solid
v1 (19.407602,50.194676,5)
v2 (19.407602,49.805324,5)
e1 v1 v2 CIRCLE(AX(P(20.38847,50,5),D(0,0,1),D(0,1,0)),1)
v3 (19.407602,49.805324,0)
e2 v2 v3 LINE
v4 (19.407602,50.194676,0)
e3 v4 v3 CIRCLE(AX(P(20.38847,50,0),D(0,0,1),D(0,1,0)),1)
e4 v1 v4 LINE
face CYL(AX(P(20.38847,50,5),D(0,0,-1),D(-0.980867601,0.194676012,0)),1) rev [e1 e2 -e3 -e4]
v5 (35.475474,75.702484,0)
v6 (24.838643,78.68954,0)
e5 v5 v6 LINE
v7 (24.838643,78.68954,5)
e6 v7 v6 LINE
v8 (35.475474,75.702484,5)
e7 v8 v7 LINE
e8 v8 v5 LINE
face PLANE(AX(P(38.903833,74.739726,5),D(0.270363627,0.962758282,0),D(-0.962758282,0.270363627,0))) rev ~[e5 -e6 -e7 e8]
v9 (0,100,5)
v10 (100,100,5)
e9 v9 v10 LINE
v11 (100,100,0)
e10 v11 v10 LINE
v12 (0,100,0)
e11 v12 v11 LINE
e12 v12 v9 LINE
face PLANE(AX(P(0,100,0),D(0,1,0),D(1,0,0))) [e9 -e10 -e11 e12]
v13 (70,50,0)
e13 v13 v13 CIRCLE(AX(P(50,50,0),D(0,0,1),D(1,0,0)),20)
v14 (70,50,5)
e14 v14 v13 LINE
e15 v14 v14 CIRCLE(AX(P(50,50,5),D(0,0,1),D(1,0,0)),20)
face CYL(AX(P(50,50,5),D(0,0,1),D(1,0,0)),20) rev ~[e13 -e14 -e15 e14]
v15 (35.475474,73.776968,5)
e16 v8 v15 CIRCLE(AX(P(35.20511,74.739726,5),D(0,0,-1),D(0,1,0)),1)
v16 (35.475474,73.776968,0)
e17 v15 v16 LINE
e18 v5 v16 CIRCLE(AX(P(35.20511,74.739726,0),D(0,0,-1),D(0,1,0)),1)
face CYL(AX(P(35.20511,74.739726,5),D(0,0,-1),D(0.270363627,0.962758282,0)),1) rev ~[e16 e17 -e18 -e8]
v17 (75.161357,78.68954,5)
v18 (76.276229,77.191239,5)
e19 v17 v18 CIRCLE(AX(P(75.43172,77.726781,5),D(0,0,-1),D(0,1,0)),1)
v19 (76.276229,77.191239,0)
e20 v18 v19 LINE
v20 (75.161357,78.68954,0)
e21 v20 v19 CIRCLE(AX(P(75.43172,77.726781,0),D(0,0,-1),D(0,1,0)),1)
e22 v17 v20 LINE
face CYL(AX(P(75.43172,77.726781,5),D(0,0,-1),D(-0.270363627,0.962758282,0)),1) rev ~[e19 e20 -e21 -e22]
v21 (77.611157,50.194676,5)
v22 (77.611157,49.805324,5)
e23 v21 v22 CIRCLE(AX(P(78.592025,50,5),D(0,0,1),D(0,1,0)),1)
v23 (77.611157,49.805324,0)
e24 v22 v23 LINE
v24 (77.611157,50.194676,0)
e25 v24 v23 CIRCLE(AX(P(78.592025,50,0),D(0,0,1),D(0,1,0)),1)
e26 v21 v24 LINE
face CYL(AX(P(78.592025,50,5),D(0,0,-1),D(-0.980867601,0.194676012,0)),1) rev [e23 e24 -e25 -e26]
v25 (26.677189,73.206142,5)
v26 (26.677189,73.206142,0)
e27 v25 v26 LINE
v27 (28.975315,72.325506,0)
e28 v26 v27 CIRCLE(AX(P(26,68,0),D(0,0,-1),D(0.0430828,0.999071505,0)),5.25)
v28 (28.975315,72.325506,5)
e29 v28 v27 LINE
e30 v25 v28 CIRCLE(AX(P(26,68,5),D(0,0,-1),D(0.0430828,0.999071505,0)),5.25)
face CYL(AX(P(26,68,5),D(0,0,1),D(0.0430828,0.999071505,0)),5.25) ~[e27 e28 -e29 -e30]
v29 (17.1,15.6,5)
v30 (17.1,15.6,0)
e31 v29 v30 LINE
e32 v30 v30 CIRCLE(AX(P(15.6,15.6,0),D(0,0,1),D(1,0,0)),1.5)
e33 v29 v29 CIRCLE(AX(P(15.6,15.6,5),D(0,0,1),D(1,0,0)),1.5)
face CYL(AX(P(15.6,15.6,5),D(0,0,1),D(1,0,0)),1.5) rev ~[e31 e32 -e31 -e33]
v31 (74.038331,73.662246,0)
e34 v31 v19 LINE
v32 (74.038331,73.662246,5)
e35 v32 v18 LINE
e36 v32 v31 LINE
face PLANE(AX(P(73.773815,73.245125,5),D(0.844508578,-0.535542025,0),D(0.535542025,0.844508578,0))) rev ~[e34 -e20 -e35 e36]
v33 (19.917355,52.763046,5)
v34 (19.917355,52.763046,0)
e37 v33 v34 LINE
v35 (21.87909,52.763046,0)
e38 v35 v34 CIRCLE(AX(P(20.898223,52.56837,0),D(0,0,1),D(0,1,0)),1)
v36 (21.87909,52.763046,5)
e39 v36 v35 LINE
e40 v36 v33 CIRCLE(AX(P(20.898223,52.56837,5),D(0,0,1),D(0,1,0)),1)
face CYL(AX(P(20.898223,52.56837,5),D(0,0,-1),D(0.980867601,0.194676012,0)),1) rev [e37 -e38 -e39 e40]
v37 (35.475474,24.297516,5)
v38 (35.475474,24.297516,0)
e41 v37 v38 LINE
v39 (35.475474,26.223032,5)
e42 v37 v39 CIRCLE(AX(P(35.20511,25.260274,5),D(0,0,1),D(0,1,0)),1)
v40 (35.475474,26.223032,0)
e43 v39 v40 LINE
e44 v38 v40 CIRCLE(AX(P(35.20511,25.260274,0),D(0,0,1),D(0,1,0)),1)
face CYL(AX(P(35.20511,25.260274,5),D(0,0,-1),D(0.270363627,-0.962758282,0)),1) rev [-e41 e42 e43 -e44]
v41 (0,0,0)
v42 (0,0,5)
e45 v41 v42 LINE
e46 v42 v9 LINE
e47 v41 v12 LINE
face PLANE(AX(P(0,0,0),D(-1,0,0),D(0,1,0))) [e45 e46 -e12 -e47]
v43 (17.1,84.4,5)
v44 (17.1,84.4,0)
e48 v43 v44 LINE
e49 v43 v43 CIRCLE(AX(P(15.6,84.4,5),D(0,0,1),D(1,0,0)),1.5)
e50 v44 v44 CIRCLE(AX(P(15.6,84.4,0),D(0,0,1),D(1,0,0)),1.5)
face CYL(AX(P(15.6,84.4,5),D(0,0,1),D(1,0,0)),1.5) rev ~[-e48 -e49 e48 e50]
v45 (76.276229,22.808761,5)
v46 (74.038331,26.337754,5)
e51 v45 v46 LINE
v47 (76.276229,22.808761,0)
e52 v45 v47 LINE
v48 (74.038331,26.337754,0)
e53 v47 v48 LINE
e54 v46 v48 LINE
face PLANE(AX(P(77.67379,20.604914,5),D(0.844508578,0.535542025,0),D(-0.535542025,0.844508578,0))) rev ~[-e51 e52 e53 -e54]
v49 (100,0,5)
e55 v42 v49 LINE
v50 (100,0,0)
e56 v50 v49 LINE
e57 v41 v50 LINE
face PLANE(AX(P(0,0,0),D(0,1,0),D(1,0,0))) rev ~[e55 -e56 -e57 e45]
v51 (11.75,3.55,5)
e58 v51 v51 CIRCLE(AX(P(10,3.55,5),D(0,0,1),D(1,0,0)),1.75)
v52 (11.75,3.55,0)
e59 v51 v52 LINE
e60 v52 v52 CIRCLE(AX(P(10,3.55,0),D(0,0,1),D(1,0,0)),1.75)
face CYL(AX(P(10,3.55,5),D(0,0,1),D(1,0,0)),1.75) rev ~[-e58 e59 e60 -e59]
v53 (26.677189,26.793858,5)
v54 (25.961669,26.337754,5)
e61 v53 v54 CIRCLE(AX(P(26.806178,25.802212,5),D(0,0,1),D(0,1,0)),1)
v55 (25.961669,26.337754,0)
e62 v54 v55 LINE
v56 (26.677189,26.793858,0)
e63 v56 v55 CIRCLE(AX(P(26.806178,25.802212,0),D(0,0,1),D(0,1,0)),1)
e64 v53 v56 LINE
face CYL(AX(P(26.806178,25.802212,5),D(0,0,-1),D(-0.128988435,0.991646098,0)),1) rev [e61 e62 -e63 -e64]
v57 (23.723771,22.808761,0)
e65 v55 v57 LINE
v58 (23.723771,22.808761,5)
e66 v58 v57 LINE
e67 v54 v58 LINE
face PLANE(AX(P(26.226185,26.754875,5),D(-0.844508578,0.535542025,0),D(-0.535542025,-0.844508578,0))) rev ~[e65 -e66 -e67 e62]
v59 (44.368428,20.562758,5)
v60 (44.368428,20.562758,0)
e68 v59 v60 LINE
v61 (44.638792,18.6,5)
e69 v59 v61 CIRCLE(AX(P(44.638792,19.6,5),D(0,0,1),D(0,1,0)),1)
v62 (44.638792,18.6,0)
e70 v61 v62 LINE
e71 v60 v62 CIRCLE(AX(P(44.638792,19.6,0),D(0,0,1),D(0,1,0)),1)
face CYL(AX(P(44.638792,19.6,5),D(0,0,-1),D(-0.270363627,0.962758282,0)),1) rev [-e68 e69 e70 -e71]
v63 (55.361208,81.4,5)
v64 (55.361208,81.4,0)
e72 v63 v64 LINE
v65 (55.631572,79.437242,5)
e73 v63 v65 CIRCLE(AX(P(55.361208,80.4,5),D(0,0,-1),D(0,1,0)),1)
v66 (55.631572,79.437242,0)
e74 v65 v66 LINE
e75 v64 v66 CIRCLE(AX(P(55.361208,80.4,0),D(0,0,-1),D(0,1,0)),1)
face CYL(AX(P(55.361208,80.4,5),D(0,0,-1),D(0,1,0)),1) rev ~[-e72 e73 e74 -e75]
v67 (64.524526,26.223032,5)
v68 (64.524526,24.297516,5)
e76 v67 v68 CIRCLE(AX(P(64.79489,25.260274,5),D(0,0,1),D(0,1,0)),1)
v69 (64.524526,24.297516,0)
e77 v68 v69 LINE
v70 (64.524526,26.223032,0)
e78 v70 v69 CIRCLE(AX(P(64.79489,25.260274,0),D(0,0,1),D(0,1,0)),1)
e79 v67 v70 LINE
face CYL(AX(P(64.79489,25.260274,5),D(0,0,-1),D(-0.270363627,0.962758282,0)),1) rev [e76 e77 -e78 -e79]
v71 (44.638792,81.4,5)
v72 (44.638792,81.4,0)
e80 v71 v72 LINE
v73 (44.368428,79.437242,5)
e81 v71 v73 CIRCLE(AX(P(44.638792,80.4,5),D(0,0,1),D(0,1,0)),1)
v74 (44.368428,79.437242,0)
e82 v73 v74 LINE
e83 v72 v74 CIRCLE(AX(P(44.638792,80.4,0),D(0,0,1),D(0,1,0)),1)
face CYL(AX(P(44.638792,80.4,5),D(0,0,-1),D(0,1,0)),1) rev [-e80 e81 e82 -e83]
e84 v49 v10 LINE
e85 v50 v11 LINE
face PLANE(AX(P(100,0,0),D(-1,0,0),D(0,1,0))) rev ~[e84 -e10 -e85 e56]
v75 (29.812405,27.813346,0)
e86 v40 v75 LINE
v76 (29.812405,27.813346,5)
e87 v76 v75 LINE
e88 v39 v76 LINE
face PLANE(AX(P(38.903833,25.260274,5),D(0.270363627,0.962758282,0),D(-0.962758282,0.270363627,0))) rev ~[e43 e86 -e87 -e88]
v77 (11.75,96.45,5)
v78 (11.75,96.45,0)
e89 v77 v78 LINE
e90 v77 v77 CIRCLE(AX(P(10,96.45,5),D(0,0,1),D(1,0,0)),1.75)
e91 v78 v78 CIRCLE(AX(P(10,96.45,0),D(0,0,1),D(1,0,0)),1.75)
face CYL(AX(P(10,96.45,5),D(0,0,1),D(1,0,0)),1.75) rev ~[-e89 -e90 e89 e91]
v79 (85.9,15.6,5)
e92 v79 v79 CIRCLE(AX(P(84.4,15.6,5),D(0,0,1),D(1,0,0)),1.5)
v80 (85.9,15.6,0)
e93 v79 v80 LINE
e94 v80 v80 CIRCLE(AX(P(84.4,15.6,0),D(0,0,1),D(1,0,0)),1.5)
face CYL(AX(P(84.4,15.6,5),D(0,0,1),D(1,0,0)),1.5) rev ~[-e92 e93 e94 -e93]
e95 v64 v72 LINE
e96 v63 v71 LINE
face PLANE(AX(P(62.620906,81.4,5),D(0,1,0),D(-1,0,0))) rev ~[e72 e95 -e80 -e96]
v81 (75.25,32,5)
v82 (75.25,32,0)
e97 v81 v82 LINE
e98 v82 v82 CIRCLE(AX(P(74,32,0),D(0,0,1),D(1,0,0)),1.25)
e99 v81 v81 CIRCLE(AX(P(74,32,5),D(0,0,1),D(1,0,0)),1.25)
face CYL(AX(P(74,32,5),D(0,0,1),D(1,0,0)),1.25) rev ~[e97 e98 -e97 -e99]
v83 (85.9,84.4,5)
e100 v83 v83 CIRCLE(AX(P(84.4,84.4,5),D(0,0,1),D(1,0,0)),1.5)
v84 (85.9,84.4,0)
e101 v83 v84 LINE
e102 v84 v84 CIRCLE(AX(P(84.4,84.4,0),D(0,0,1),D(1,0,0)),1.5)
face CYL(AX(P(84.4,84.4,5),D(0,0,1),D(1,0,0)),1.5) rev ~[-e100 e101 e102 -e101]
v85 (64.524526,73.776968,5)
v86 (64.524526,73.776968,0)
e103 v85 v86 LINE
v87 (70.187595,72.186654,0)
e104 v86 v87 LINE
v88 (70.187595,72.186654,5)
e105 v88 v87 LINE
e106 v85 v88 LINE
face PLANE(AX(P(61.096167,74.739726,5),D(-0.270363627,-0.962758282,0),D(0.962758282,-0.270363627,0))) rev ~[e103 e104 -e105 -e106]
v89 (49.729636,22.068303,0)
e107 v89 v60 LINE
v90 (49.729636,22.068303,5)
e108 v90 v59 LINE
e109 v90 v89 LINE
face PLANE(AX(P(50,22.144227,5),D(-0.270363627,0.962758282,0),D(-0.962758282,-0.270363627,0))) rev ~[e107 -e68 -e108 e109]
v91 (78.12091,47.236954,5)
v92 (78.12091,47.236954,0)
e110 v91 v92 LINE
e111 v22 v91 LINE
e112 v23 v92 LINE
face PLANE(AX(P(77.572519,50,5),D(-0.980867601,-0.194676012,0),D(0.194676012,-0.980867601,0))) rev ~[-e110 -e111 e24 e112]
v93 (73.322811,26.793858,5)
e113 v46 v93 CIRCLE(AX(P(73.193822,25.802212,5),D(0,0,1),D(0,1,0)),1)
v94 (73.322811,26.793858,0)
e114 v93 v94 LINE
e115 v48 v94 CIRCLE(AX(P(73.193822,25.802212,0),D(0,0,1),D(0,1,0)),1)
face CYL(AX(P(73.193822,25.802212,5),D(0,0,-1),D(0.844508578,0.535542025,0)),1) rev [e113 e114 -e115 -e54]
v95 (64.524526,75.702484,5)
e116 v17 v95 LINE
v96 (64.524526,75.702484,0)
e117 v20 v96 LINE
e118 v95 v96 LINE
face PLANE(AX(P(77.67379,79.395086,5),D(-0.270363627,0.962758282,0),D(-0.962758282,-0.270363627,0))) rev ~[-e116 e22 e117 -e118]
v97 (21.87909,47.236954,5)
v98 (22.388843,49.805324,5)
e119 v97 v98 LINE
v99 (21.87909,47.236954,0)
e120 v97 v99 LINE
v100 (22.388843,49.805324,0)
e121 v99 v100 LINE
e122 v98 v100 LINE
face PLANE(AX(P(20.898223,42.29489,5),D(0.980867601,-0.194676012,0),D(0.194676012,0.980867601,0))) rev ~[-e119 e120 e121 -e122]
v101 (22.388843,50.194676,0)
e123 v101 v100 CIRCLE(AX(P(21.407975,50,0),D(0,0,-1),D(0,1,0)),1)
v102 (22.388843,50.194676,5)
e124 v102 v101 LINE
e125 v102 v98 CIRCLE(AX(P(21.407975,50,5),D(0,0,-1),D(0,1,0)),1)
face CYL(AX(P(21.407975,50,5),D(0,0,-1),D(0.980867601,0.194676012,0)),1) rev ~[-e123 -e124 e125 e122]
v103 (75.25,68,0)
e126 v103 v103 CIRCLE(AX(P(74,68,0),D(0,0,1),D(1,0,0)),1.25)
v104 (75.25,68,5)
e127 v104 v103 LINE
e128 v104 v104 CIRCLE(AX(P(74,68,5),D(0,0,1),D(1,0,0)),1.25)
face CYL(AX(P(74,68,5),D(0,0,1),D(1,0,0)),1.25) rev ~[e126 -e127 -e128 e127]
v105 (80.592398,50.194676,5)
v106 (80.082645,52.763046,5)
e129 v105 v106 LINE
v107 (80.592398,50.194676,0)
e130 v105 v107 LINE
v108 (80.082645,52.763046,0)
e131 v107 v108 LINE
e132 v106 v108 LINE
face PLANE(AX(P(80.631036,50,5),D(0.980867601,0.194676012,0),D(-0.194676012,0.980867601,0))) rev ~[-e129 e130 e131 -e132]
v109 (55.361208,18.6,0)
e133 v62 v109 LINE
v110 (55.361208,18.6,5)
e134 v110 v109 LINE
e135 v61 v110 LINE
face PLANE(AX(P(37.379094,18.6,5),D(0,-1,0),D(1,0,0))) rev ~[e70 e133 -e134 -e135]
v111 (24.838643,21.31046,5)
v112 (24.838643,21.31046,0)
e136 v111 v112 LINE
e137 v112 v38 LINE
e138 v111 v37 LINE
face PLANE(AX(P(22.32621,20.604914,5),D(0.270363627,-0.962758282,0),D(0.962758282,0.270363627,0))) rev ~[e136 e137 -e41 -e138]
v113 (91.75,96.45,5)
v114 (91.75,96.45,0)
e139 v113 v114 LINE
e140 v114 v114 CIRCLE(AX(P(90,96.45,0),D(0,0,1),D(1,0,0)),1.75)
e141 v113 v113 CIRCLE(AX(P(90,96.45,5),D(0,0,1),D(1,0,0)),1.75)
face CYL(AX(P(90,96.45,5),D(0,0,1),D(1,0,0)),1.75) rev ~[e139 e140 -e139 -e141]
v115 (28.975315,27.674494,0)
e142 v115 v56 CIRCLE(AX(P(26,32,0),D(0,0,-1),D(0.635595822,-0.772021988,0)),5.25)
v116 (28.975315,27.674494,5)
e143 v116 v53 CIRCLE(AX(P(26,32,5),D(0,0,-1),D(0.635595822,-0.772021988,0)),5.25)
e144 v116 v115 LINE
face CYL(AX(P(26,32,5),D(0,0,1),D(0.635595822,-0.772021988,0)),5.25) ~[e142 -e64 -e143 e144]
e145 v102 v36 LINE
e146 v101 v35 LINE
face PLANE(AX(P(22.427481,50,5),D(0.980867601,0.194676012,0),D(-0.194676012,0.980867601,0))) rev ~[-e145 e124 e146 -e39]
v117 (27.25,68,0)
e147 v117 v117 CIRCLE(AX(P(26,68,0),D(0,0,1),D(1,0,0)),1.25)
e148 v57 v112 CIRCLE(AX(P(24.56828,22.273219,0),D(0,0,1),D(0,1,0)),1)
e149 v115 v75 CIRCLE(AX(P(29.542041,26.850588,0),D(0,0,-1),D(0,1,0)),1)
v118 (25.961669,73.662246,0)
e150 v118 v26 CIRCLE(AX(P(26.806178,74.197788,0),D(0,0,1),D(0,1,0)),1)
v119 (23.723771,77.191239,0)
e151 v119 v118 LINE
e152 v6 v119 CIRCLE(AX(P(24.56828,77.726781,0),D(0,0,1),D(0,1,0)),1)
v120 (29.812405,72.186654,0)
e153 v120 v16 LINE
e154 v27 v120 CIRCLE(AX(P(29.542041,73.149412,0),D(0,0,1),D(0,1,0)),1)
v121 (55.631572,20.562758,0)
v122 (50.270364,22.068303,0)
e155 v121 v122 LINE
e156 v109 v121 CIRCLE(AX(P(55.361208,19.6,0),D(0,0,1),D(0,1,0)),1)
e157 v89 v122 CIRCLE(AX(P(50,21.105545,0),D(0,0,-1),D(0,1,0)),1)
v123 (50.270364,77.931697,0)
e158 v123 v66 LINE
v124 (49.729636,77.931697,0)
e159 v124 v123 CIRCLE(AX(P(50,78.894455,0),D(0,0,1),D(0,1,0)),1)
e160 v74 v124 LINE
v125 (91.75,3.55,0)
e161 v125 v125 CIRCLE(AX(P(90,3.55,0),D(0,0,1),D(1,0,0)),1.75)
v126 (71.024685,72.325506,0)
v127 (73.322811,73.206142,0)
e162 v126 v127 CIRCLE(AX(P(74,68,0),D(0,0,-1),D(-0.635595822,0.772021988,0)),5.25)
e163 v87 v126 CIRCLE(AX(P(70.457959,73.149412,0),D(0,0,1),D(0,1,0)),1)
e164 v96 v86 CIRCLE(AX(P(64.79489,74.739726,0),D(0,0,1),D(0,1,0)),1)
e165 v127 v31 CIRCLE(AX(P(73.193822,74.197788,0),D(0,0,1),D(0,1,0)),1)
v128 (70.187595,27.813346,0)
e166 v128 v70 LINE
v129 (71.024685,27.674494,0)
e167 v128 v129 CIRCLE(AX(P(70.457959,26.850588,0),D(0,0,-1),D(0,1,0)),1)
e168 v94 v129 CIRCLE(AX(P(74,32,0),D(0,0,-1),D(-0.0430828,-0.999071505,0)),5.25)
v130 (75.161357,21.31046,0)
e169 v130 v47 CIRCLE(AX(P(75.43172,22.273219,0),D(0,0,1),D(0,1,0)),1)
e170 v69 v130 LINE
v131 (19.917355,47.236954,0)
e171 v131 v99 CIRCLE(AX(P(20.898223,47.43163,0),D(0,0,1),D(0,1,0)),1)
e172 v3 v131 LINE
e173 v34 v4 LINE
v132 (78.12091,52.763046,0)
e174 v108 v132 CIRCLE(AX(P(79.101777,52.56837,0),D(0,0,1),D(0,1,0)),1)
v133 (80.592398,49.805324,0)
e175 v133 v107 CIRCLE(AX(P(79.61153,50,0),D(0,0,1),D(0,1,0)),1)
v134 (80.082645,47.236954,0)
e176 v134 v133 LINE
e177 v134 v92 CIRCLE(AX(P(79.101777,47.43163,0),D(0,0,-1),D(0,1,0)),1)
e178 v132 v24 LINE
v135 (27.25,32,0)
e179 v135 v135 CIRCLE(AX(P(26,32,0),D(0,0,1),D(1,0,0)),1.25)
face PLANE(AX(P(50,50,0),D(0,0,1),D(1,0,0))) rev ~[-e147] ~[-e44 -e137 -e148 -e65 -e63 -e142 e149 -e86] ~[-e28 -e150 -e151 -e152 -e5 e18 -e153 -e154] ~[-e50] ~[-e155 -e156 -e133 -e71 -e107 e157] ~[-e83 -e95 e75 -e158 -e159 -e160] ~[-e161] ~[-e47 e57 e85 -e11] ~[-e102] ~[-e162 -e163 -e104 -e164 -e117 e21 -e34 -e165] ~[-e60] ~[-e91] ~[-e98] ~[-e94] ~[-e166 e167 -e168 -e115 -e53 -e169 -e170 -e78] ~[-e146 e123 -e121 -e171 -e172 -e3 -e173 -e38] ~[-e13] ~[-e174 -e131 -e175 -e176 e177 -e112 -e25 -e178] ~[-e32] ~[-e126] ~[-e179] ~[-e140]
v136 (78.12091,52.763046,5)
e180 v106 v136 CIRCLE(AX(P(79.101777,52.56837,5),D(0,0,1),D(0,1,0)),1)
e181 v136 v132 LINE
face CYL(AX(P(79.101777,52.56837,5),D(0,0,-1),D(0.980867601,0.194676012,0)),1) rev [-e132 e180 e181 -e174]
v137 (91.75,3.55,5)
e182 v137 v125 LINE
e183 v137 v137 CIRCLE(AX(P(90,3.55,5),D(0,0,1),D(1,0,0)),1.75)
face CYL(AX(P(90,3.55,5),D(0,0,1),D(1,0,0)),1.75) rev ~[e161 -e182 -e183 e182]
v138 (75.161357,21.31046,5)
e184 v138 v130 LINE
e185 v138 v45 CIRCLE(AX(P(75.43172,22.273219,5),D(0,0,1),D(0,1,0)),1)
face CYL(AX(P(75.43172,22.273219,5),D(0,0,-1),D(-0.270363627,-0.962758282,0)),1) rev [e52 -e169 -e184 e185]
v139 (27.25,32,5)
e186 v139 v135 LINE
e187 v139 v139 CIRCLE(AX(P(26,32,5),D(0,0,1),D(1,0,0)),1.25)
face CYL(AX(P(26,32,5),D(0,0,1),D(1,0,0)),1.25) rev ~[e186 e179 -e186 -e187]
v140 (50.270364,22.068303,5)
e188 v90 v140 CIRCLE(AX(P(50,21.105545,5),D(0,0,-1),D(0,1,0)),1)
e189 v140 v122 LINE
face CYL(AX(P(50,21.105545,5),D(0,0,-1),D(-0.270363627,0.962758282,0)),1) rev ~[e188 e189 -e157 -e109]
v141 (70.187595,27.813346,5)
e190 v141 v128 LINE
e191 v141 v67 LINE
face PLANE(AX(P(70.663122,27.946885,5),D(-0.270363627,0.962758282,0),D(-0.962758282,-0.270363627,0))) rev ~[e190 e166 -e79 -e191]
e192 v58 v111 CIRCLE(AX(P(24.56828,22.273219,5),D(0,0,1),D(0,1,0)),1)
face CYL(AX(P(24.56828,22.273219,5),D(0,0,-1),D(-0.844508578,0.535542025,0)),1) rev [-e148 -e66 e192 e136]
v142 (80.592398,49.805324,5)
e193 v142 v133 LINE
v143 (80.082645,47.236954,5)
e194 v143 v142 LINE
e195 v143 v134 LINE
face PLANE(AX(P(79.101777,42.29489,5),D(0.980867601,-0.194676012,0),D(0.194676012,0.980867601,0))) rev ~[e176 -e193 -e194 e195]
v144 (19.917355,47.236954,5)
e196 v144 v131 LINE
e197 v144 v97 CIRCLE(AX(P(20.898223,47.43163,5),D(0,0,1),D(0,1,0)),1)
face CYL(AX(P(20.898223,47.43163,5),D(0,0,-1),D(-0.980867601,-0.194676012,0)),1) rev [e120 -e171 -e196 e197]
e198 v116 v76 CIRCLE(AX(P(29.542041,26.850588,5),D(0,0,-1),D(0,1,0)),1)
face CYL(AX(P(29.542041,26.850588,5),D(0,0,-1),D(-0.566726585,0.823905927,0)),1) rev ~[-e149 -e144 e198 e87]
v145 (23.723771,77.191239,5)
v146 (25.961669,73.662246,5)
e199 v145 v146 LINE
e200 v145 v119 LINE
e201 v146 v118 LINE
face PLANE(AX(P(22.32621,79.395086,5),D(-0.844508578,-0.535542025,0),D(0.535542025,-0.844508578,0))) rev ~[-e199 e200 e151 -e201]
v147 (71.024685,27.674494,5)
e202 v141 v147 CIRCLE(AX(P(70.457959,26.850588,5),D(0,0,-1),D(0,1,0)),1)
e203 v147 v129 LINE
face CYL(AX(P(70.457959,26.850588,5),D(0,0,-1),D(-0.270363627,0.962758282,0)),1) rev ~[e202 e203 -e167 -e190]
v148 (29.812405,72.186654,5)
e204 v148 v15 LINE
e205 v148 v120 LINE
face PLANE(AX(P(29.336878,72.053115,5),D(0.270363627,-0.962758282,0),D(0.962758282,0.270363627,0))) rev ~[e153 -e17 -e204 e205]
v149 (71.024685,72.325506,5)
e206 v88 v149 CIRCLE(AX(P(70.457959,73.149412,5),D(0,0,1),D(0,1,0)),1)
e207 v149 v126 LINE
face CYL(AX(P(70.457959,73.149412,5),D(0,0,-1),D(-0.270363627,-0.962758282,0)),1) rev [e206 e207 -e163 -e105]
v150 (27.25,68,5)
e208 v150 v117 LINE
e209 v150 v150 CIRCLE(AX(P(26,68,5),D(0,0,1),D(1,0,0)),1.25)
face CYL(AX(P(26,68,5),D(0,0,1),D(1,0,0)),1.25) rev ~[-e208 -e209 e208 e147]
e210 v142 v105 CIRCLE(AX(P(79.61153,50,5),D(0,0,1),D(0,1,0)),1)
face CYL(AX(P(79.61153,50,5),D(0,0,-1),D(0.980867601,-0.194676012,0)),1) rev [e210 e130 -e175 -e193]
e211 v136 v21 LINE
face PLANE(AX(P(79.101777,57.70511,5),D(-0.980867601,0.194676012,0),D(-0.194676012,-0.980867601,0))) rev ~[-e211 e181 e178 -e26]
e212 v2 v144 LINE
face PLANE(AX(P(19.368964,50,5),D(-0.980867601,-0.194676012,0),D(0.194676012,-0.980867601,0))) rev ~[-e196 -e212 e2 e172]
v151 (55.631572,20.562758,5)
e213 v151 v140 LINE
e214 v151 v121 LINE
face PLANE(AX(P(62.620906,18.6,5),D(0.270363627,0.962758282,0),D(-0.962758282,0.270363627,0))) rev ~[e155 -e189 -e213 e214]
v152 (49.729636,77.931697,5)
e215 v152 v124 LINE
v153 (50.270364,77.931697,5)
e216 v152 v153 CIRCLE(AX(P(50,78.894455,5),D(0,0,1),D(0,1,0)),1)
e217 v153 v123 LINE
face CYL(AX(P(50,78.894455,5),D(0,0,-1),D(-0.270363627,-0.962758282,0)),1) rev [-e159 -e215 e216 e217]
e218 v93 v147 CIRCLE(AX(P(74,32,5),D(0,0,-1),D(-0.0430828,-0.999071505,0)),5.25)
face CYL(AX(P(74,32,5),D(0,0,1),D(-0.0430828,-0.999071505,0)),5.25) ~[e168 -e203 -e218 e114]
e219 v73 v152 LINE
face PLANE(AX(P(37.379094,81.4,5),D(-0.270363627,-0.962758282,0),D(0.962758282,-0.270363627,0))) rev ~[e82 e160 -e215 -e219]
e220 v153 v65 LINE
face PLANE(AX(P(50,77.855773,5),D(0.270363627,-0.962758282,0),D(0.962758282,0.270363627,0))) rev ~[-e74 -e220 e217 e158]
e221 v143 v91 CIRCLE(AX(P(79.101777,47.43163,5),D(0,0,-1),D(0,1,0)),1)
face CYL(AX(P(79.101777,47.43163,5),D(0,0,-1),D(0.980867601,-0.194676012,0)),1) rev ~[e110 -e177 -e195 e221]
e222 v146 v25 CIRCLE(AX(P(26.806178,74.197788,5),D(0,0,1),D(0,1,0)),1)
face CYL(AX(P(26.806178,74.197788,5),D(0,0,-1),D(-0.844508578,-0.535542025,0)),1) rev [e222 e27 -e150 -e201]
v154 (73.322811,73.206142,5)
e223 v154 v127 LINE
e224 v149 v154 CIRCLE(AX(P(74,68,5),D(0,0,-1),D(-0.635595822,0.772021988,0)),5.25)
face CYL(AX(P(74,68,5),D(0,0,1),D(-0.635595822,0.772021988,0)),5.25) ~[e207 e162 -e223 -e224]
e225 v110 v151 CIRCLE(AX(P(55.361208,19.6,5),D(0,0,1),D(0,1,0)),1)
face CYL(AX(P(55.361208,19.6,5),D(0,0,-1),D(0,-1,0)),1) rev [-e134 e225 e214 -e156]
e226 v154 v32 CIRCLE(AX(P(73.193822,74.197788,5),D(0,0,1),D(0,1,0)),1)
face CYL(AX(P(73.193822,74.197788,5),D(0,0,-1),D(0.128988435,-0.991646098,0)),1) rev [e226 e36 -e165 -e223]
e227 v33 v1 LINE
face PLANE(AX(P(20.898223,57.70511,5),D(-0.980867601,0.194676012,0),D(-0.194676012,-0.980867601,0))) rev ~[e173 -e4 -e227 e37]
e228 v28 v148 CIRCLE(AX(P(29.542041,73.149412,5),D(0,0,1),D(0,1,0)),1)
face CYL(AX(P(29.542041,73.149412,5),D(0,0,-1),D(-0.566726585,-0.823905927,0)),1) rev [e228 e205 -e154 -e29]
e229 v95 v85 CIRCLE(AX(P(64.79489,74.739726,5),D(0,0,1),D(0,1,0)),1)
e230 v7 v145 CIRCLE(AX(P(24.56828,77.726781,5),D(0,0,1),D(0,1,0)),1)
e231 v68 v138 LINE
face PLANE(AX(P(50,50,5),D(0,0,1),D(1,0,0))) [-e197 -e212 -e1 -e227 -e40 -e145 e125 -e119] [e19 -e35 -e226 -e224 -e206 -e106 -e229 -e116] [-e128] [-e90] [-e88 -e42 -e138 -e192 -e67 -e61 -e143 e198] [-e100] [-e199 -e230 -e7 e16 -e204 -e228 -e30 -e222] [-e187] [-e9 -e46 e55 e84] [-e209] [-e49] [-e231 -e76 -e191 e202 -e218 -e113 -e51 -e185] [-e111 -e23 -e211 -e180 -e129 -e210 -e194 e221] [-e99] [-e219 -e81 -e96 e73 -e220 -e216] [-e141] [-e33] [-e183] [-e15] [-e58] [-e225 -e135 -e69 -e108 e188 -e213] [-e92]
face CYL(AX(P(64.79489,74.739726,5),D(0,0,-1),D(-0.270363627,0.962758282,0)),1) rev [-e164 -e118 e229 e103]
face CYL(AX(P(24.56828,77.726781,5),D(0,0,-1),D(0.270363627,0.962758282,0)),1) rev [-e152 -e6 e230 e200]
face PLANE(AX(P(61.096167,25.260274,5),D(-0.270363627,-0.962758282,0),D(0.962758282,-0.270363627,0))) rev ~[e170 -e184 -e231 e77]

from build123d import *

# Parameters (mm, degrees)
SKETCH_1_W          = 100
SKETCH_1_H          = 100
EXTRUDE_1_DEPTH     = 5
SKETCH_2_R          = 1.75
CUT_EXTRUDE_1_DEPTH = 5
SKETCH_3_R          = 1.25
SKETCH_3_R_2        = 1.5
SKETCH_3_R_3        = 20
CUT_EXTRUDE_2_DEPTH = 5
CUT_EXTRUDE_3_DEPTH = 5
FILLET_27_R         = 1


with BuildPart() as part:
    # 草图1 → 凸台-拉伸1 (new body)
    with BuildSketch(Plane.XY):
        with Locations((50, 50)):
            Rectangle(SKETCH_1_W, SKETCH_1_H)
    extrude(amount=EXTRUDE_1_DEPTH)

    # 草图2 → 切除-拉伸1 (cut)
    with BuildSketch(Plane.XY.offset(5)):
        with Locations((10, 96.45)):
            Circle(SKETCH_2_R)
        with Locations((90, 96.45)):
            Circle(SKETCH_2_R)
        with Locations((10, 3.55)):
            Circle(SKETCH_2_R)
        with Locations((90, 3.55)):
            Circle(SKETCH_2_R)
    extrude(amount=-CUT_EXTRUDE_1_DEPTH, mode=Mode.SUBTRACT)

    # 草图3 → 切除-拉伸2 (cut)
    with BuildSketch(Plane.XY.offset(5)):
        with Locations((26, 68)):
            Circle(SKETCH_3_R)
        with Locations((74, 68)):
            Circle(SKETCH_3_R)
        with Locations((26, 32)):
            Circle(SKETCH_3_R)
        with Locations((74, 32)):
            Circle(SKETCH_3_R)
        with Locations((15.6, 84.4)):
            Circle(SKETCH_3_R_2)
        with Locations((84.4, 84.4)):
            Circle(SKETCH_3_R_2)
        with Locations((84.4, 15.6)):
            Circle(SKETCH_3_R_2)
        with Locations((15.6, 15.6)):
            Circle(SKETCH_3_R_2)
        with Locations((50, 50)):
            Circle(SKETCH_3_R_3)
    extrude(amount=-CUT_EXTRUDE_2_DEPTH, mode=Mode.SUBTRACT)

    # 草图4 → 切除-拉伸3 (cut)
    with BuildSketch(Plane.XY.offset(5)):
        Polygon((62.620906011, 81.4), (37.379093989, 81.4), (50, 77.85577297), align=None)
        with BuildLine():
            Line((38.90383284, 74.739726027), (22.326209721, 79.395085944))
            Line((22.326209721, 79.395085944), (26.226184699, 73.245125402))
            ThreePointArc((26.226184699, 73.245125402), (27.87858351, 72.902389621), (29.336878066, 72.05311544))
            Line((29.336878066, 72.05311544), (38.90383284, 74.739726027))
        make_face()
        with BuildLine():
            Line((77.673790279, 79.395085944), (61.09616716, 74.739726027))
            Line((61.09616716, 74.739726027), (70.663121934, 72.05311544))
            ThreePointArc((70.663121934, 72.05311544), (72.12141649, 72.902389621), (73.773815301, 73.245125402))
            Line((73.773815301, 73.245125402), (77.673790279, 79.395085944))
        make_face()
        Polygon((50, 22.14422703), (37.379093989, 18.6), (62.620906011, 18.6), align=None)
        with BuildLine():
            ThreePointArc((29.336878066, 27.94688456), (27.87858351, 27.097610379), (26.226184699, 26.754874598))
            Line((26.226184699, 26.754874598), (22.326209721, 20.604914056))
            Line((22.326209721, 20.604914056), (38.90383284, 25.260273973))
            Line((38.90383284, 25.260273973), (29.336878066, 27.94688456))
        make_face()
        with BuildLine():
            Line((70.663121934, 27.94688456), (61.09616716, 25.260273973))
            Line((61.09616716, 25.260273973), (77.673790279, 20.604914056))
            Line((77.673790279, 20.604914056), (73.773815301, 26.754874598))
            ThreePointArc((73.773815301, 26.754874598), (72.12141649, 27.097610379), (70.663121934, 27.94688456))
        make_face()
        Polygon((22.427480916, 50), (20.898222534, 57.70510954), (19.368964152, 50), (20.898222534, 42.29489046), align=None)
        Polygon((79.101777466, 42.29489046), (80.631035848, 50), (79.101777466, 57.70510954), (77.572519084, 50), align=None)
    extrude(amount=-CUT_EXTRUDE_3_DEPTH, mode=Mode.SUBTRACT)

    # 圆角27
    fillet_27_edges = [part.edges().sort_by_distance(p)[0] for p in [
        (29.336878066, 72.05311544, 2.5),
        (26.226184699, 73.245125402, 2.5),
        (22.326209721, 79.395085944, 2.5),
        (38.90383284, 74.739726027, 2.5),
        (73.773815301, 73.245125402, 2.5),
        (70.663121934, 72.05311544, 2.5),
        (61.09616716, 74.739726027, 2.5),
        (77.673790279, 79.395085944, 2.5),
        (26.226184699, 26.754874598, 2.5),
        (29.336878066, 27.94688456, 2.5),
        (38.90383284, 25.260273973, 2.5),
        (22.326209721, 20.604914056, 2.5),
        (50, 22.14422703, 2.5),
        (62.620906011, 18.6, 2.5),
        (37.379093989, 18.6, 2.5),
        (79.101777466, 57.70510954, 2.5),
        (80.631035848, 50, 2.5),
        (79.101777466, 42.29489046, 2.5),
        (77.572519084, 50, 2.5),
        (20.898222534, 42.29489046, 2.5),
        (19.368964152, 50, 2.5),
        (20.898222534, 57.70510954, 2.5),
        (22.427480916, 50, 2.5),
        (70.663121934, 27.94688456, 2.5),
        (73.773815301, 26.754874598, 2.5),
        (77.673790279, 20.604914056, 2.5),
        (61.09616716, 25.260273973, 2.5),
        (50, 77.85577297, 2.5),
        (37.379093989, 81.4, 2.5),
        (62.620906011, 81.4, 2.5),
    ]]
    fillet(fillet_27_edges, radius=FILLET_27_R)


solid = part.part
